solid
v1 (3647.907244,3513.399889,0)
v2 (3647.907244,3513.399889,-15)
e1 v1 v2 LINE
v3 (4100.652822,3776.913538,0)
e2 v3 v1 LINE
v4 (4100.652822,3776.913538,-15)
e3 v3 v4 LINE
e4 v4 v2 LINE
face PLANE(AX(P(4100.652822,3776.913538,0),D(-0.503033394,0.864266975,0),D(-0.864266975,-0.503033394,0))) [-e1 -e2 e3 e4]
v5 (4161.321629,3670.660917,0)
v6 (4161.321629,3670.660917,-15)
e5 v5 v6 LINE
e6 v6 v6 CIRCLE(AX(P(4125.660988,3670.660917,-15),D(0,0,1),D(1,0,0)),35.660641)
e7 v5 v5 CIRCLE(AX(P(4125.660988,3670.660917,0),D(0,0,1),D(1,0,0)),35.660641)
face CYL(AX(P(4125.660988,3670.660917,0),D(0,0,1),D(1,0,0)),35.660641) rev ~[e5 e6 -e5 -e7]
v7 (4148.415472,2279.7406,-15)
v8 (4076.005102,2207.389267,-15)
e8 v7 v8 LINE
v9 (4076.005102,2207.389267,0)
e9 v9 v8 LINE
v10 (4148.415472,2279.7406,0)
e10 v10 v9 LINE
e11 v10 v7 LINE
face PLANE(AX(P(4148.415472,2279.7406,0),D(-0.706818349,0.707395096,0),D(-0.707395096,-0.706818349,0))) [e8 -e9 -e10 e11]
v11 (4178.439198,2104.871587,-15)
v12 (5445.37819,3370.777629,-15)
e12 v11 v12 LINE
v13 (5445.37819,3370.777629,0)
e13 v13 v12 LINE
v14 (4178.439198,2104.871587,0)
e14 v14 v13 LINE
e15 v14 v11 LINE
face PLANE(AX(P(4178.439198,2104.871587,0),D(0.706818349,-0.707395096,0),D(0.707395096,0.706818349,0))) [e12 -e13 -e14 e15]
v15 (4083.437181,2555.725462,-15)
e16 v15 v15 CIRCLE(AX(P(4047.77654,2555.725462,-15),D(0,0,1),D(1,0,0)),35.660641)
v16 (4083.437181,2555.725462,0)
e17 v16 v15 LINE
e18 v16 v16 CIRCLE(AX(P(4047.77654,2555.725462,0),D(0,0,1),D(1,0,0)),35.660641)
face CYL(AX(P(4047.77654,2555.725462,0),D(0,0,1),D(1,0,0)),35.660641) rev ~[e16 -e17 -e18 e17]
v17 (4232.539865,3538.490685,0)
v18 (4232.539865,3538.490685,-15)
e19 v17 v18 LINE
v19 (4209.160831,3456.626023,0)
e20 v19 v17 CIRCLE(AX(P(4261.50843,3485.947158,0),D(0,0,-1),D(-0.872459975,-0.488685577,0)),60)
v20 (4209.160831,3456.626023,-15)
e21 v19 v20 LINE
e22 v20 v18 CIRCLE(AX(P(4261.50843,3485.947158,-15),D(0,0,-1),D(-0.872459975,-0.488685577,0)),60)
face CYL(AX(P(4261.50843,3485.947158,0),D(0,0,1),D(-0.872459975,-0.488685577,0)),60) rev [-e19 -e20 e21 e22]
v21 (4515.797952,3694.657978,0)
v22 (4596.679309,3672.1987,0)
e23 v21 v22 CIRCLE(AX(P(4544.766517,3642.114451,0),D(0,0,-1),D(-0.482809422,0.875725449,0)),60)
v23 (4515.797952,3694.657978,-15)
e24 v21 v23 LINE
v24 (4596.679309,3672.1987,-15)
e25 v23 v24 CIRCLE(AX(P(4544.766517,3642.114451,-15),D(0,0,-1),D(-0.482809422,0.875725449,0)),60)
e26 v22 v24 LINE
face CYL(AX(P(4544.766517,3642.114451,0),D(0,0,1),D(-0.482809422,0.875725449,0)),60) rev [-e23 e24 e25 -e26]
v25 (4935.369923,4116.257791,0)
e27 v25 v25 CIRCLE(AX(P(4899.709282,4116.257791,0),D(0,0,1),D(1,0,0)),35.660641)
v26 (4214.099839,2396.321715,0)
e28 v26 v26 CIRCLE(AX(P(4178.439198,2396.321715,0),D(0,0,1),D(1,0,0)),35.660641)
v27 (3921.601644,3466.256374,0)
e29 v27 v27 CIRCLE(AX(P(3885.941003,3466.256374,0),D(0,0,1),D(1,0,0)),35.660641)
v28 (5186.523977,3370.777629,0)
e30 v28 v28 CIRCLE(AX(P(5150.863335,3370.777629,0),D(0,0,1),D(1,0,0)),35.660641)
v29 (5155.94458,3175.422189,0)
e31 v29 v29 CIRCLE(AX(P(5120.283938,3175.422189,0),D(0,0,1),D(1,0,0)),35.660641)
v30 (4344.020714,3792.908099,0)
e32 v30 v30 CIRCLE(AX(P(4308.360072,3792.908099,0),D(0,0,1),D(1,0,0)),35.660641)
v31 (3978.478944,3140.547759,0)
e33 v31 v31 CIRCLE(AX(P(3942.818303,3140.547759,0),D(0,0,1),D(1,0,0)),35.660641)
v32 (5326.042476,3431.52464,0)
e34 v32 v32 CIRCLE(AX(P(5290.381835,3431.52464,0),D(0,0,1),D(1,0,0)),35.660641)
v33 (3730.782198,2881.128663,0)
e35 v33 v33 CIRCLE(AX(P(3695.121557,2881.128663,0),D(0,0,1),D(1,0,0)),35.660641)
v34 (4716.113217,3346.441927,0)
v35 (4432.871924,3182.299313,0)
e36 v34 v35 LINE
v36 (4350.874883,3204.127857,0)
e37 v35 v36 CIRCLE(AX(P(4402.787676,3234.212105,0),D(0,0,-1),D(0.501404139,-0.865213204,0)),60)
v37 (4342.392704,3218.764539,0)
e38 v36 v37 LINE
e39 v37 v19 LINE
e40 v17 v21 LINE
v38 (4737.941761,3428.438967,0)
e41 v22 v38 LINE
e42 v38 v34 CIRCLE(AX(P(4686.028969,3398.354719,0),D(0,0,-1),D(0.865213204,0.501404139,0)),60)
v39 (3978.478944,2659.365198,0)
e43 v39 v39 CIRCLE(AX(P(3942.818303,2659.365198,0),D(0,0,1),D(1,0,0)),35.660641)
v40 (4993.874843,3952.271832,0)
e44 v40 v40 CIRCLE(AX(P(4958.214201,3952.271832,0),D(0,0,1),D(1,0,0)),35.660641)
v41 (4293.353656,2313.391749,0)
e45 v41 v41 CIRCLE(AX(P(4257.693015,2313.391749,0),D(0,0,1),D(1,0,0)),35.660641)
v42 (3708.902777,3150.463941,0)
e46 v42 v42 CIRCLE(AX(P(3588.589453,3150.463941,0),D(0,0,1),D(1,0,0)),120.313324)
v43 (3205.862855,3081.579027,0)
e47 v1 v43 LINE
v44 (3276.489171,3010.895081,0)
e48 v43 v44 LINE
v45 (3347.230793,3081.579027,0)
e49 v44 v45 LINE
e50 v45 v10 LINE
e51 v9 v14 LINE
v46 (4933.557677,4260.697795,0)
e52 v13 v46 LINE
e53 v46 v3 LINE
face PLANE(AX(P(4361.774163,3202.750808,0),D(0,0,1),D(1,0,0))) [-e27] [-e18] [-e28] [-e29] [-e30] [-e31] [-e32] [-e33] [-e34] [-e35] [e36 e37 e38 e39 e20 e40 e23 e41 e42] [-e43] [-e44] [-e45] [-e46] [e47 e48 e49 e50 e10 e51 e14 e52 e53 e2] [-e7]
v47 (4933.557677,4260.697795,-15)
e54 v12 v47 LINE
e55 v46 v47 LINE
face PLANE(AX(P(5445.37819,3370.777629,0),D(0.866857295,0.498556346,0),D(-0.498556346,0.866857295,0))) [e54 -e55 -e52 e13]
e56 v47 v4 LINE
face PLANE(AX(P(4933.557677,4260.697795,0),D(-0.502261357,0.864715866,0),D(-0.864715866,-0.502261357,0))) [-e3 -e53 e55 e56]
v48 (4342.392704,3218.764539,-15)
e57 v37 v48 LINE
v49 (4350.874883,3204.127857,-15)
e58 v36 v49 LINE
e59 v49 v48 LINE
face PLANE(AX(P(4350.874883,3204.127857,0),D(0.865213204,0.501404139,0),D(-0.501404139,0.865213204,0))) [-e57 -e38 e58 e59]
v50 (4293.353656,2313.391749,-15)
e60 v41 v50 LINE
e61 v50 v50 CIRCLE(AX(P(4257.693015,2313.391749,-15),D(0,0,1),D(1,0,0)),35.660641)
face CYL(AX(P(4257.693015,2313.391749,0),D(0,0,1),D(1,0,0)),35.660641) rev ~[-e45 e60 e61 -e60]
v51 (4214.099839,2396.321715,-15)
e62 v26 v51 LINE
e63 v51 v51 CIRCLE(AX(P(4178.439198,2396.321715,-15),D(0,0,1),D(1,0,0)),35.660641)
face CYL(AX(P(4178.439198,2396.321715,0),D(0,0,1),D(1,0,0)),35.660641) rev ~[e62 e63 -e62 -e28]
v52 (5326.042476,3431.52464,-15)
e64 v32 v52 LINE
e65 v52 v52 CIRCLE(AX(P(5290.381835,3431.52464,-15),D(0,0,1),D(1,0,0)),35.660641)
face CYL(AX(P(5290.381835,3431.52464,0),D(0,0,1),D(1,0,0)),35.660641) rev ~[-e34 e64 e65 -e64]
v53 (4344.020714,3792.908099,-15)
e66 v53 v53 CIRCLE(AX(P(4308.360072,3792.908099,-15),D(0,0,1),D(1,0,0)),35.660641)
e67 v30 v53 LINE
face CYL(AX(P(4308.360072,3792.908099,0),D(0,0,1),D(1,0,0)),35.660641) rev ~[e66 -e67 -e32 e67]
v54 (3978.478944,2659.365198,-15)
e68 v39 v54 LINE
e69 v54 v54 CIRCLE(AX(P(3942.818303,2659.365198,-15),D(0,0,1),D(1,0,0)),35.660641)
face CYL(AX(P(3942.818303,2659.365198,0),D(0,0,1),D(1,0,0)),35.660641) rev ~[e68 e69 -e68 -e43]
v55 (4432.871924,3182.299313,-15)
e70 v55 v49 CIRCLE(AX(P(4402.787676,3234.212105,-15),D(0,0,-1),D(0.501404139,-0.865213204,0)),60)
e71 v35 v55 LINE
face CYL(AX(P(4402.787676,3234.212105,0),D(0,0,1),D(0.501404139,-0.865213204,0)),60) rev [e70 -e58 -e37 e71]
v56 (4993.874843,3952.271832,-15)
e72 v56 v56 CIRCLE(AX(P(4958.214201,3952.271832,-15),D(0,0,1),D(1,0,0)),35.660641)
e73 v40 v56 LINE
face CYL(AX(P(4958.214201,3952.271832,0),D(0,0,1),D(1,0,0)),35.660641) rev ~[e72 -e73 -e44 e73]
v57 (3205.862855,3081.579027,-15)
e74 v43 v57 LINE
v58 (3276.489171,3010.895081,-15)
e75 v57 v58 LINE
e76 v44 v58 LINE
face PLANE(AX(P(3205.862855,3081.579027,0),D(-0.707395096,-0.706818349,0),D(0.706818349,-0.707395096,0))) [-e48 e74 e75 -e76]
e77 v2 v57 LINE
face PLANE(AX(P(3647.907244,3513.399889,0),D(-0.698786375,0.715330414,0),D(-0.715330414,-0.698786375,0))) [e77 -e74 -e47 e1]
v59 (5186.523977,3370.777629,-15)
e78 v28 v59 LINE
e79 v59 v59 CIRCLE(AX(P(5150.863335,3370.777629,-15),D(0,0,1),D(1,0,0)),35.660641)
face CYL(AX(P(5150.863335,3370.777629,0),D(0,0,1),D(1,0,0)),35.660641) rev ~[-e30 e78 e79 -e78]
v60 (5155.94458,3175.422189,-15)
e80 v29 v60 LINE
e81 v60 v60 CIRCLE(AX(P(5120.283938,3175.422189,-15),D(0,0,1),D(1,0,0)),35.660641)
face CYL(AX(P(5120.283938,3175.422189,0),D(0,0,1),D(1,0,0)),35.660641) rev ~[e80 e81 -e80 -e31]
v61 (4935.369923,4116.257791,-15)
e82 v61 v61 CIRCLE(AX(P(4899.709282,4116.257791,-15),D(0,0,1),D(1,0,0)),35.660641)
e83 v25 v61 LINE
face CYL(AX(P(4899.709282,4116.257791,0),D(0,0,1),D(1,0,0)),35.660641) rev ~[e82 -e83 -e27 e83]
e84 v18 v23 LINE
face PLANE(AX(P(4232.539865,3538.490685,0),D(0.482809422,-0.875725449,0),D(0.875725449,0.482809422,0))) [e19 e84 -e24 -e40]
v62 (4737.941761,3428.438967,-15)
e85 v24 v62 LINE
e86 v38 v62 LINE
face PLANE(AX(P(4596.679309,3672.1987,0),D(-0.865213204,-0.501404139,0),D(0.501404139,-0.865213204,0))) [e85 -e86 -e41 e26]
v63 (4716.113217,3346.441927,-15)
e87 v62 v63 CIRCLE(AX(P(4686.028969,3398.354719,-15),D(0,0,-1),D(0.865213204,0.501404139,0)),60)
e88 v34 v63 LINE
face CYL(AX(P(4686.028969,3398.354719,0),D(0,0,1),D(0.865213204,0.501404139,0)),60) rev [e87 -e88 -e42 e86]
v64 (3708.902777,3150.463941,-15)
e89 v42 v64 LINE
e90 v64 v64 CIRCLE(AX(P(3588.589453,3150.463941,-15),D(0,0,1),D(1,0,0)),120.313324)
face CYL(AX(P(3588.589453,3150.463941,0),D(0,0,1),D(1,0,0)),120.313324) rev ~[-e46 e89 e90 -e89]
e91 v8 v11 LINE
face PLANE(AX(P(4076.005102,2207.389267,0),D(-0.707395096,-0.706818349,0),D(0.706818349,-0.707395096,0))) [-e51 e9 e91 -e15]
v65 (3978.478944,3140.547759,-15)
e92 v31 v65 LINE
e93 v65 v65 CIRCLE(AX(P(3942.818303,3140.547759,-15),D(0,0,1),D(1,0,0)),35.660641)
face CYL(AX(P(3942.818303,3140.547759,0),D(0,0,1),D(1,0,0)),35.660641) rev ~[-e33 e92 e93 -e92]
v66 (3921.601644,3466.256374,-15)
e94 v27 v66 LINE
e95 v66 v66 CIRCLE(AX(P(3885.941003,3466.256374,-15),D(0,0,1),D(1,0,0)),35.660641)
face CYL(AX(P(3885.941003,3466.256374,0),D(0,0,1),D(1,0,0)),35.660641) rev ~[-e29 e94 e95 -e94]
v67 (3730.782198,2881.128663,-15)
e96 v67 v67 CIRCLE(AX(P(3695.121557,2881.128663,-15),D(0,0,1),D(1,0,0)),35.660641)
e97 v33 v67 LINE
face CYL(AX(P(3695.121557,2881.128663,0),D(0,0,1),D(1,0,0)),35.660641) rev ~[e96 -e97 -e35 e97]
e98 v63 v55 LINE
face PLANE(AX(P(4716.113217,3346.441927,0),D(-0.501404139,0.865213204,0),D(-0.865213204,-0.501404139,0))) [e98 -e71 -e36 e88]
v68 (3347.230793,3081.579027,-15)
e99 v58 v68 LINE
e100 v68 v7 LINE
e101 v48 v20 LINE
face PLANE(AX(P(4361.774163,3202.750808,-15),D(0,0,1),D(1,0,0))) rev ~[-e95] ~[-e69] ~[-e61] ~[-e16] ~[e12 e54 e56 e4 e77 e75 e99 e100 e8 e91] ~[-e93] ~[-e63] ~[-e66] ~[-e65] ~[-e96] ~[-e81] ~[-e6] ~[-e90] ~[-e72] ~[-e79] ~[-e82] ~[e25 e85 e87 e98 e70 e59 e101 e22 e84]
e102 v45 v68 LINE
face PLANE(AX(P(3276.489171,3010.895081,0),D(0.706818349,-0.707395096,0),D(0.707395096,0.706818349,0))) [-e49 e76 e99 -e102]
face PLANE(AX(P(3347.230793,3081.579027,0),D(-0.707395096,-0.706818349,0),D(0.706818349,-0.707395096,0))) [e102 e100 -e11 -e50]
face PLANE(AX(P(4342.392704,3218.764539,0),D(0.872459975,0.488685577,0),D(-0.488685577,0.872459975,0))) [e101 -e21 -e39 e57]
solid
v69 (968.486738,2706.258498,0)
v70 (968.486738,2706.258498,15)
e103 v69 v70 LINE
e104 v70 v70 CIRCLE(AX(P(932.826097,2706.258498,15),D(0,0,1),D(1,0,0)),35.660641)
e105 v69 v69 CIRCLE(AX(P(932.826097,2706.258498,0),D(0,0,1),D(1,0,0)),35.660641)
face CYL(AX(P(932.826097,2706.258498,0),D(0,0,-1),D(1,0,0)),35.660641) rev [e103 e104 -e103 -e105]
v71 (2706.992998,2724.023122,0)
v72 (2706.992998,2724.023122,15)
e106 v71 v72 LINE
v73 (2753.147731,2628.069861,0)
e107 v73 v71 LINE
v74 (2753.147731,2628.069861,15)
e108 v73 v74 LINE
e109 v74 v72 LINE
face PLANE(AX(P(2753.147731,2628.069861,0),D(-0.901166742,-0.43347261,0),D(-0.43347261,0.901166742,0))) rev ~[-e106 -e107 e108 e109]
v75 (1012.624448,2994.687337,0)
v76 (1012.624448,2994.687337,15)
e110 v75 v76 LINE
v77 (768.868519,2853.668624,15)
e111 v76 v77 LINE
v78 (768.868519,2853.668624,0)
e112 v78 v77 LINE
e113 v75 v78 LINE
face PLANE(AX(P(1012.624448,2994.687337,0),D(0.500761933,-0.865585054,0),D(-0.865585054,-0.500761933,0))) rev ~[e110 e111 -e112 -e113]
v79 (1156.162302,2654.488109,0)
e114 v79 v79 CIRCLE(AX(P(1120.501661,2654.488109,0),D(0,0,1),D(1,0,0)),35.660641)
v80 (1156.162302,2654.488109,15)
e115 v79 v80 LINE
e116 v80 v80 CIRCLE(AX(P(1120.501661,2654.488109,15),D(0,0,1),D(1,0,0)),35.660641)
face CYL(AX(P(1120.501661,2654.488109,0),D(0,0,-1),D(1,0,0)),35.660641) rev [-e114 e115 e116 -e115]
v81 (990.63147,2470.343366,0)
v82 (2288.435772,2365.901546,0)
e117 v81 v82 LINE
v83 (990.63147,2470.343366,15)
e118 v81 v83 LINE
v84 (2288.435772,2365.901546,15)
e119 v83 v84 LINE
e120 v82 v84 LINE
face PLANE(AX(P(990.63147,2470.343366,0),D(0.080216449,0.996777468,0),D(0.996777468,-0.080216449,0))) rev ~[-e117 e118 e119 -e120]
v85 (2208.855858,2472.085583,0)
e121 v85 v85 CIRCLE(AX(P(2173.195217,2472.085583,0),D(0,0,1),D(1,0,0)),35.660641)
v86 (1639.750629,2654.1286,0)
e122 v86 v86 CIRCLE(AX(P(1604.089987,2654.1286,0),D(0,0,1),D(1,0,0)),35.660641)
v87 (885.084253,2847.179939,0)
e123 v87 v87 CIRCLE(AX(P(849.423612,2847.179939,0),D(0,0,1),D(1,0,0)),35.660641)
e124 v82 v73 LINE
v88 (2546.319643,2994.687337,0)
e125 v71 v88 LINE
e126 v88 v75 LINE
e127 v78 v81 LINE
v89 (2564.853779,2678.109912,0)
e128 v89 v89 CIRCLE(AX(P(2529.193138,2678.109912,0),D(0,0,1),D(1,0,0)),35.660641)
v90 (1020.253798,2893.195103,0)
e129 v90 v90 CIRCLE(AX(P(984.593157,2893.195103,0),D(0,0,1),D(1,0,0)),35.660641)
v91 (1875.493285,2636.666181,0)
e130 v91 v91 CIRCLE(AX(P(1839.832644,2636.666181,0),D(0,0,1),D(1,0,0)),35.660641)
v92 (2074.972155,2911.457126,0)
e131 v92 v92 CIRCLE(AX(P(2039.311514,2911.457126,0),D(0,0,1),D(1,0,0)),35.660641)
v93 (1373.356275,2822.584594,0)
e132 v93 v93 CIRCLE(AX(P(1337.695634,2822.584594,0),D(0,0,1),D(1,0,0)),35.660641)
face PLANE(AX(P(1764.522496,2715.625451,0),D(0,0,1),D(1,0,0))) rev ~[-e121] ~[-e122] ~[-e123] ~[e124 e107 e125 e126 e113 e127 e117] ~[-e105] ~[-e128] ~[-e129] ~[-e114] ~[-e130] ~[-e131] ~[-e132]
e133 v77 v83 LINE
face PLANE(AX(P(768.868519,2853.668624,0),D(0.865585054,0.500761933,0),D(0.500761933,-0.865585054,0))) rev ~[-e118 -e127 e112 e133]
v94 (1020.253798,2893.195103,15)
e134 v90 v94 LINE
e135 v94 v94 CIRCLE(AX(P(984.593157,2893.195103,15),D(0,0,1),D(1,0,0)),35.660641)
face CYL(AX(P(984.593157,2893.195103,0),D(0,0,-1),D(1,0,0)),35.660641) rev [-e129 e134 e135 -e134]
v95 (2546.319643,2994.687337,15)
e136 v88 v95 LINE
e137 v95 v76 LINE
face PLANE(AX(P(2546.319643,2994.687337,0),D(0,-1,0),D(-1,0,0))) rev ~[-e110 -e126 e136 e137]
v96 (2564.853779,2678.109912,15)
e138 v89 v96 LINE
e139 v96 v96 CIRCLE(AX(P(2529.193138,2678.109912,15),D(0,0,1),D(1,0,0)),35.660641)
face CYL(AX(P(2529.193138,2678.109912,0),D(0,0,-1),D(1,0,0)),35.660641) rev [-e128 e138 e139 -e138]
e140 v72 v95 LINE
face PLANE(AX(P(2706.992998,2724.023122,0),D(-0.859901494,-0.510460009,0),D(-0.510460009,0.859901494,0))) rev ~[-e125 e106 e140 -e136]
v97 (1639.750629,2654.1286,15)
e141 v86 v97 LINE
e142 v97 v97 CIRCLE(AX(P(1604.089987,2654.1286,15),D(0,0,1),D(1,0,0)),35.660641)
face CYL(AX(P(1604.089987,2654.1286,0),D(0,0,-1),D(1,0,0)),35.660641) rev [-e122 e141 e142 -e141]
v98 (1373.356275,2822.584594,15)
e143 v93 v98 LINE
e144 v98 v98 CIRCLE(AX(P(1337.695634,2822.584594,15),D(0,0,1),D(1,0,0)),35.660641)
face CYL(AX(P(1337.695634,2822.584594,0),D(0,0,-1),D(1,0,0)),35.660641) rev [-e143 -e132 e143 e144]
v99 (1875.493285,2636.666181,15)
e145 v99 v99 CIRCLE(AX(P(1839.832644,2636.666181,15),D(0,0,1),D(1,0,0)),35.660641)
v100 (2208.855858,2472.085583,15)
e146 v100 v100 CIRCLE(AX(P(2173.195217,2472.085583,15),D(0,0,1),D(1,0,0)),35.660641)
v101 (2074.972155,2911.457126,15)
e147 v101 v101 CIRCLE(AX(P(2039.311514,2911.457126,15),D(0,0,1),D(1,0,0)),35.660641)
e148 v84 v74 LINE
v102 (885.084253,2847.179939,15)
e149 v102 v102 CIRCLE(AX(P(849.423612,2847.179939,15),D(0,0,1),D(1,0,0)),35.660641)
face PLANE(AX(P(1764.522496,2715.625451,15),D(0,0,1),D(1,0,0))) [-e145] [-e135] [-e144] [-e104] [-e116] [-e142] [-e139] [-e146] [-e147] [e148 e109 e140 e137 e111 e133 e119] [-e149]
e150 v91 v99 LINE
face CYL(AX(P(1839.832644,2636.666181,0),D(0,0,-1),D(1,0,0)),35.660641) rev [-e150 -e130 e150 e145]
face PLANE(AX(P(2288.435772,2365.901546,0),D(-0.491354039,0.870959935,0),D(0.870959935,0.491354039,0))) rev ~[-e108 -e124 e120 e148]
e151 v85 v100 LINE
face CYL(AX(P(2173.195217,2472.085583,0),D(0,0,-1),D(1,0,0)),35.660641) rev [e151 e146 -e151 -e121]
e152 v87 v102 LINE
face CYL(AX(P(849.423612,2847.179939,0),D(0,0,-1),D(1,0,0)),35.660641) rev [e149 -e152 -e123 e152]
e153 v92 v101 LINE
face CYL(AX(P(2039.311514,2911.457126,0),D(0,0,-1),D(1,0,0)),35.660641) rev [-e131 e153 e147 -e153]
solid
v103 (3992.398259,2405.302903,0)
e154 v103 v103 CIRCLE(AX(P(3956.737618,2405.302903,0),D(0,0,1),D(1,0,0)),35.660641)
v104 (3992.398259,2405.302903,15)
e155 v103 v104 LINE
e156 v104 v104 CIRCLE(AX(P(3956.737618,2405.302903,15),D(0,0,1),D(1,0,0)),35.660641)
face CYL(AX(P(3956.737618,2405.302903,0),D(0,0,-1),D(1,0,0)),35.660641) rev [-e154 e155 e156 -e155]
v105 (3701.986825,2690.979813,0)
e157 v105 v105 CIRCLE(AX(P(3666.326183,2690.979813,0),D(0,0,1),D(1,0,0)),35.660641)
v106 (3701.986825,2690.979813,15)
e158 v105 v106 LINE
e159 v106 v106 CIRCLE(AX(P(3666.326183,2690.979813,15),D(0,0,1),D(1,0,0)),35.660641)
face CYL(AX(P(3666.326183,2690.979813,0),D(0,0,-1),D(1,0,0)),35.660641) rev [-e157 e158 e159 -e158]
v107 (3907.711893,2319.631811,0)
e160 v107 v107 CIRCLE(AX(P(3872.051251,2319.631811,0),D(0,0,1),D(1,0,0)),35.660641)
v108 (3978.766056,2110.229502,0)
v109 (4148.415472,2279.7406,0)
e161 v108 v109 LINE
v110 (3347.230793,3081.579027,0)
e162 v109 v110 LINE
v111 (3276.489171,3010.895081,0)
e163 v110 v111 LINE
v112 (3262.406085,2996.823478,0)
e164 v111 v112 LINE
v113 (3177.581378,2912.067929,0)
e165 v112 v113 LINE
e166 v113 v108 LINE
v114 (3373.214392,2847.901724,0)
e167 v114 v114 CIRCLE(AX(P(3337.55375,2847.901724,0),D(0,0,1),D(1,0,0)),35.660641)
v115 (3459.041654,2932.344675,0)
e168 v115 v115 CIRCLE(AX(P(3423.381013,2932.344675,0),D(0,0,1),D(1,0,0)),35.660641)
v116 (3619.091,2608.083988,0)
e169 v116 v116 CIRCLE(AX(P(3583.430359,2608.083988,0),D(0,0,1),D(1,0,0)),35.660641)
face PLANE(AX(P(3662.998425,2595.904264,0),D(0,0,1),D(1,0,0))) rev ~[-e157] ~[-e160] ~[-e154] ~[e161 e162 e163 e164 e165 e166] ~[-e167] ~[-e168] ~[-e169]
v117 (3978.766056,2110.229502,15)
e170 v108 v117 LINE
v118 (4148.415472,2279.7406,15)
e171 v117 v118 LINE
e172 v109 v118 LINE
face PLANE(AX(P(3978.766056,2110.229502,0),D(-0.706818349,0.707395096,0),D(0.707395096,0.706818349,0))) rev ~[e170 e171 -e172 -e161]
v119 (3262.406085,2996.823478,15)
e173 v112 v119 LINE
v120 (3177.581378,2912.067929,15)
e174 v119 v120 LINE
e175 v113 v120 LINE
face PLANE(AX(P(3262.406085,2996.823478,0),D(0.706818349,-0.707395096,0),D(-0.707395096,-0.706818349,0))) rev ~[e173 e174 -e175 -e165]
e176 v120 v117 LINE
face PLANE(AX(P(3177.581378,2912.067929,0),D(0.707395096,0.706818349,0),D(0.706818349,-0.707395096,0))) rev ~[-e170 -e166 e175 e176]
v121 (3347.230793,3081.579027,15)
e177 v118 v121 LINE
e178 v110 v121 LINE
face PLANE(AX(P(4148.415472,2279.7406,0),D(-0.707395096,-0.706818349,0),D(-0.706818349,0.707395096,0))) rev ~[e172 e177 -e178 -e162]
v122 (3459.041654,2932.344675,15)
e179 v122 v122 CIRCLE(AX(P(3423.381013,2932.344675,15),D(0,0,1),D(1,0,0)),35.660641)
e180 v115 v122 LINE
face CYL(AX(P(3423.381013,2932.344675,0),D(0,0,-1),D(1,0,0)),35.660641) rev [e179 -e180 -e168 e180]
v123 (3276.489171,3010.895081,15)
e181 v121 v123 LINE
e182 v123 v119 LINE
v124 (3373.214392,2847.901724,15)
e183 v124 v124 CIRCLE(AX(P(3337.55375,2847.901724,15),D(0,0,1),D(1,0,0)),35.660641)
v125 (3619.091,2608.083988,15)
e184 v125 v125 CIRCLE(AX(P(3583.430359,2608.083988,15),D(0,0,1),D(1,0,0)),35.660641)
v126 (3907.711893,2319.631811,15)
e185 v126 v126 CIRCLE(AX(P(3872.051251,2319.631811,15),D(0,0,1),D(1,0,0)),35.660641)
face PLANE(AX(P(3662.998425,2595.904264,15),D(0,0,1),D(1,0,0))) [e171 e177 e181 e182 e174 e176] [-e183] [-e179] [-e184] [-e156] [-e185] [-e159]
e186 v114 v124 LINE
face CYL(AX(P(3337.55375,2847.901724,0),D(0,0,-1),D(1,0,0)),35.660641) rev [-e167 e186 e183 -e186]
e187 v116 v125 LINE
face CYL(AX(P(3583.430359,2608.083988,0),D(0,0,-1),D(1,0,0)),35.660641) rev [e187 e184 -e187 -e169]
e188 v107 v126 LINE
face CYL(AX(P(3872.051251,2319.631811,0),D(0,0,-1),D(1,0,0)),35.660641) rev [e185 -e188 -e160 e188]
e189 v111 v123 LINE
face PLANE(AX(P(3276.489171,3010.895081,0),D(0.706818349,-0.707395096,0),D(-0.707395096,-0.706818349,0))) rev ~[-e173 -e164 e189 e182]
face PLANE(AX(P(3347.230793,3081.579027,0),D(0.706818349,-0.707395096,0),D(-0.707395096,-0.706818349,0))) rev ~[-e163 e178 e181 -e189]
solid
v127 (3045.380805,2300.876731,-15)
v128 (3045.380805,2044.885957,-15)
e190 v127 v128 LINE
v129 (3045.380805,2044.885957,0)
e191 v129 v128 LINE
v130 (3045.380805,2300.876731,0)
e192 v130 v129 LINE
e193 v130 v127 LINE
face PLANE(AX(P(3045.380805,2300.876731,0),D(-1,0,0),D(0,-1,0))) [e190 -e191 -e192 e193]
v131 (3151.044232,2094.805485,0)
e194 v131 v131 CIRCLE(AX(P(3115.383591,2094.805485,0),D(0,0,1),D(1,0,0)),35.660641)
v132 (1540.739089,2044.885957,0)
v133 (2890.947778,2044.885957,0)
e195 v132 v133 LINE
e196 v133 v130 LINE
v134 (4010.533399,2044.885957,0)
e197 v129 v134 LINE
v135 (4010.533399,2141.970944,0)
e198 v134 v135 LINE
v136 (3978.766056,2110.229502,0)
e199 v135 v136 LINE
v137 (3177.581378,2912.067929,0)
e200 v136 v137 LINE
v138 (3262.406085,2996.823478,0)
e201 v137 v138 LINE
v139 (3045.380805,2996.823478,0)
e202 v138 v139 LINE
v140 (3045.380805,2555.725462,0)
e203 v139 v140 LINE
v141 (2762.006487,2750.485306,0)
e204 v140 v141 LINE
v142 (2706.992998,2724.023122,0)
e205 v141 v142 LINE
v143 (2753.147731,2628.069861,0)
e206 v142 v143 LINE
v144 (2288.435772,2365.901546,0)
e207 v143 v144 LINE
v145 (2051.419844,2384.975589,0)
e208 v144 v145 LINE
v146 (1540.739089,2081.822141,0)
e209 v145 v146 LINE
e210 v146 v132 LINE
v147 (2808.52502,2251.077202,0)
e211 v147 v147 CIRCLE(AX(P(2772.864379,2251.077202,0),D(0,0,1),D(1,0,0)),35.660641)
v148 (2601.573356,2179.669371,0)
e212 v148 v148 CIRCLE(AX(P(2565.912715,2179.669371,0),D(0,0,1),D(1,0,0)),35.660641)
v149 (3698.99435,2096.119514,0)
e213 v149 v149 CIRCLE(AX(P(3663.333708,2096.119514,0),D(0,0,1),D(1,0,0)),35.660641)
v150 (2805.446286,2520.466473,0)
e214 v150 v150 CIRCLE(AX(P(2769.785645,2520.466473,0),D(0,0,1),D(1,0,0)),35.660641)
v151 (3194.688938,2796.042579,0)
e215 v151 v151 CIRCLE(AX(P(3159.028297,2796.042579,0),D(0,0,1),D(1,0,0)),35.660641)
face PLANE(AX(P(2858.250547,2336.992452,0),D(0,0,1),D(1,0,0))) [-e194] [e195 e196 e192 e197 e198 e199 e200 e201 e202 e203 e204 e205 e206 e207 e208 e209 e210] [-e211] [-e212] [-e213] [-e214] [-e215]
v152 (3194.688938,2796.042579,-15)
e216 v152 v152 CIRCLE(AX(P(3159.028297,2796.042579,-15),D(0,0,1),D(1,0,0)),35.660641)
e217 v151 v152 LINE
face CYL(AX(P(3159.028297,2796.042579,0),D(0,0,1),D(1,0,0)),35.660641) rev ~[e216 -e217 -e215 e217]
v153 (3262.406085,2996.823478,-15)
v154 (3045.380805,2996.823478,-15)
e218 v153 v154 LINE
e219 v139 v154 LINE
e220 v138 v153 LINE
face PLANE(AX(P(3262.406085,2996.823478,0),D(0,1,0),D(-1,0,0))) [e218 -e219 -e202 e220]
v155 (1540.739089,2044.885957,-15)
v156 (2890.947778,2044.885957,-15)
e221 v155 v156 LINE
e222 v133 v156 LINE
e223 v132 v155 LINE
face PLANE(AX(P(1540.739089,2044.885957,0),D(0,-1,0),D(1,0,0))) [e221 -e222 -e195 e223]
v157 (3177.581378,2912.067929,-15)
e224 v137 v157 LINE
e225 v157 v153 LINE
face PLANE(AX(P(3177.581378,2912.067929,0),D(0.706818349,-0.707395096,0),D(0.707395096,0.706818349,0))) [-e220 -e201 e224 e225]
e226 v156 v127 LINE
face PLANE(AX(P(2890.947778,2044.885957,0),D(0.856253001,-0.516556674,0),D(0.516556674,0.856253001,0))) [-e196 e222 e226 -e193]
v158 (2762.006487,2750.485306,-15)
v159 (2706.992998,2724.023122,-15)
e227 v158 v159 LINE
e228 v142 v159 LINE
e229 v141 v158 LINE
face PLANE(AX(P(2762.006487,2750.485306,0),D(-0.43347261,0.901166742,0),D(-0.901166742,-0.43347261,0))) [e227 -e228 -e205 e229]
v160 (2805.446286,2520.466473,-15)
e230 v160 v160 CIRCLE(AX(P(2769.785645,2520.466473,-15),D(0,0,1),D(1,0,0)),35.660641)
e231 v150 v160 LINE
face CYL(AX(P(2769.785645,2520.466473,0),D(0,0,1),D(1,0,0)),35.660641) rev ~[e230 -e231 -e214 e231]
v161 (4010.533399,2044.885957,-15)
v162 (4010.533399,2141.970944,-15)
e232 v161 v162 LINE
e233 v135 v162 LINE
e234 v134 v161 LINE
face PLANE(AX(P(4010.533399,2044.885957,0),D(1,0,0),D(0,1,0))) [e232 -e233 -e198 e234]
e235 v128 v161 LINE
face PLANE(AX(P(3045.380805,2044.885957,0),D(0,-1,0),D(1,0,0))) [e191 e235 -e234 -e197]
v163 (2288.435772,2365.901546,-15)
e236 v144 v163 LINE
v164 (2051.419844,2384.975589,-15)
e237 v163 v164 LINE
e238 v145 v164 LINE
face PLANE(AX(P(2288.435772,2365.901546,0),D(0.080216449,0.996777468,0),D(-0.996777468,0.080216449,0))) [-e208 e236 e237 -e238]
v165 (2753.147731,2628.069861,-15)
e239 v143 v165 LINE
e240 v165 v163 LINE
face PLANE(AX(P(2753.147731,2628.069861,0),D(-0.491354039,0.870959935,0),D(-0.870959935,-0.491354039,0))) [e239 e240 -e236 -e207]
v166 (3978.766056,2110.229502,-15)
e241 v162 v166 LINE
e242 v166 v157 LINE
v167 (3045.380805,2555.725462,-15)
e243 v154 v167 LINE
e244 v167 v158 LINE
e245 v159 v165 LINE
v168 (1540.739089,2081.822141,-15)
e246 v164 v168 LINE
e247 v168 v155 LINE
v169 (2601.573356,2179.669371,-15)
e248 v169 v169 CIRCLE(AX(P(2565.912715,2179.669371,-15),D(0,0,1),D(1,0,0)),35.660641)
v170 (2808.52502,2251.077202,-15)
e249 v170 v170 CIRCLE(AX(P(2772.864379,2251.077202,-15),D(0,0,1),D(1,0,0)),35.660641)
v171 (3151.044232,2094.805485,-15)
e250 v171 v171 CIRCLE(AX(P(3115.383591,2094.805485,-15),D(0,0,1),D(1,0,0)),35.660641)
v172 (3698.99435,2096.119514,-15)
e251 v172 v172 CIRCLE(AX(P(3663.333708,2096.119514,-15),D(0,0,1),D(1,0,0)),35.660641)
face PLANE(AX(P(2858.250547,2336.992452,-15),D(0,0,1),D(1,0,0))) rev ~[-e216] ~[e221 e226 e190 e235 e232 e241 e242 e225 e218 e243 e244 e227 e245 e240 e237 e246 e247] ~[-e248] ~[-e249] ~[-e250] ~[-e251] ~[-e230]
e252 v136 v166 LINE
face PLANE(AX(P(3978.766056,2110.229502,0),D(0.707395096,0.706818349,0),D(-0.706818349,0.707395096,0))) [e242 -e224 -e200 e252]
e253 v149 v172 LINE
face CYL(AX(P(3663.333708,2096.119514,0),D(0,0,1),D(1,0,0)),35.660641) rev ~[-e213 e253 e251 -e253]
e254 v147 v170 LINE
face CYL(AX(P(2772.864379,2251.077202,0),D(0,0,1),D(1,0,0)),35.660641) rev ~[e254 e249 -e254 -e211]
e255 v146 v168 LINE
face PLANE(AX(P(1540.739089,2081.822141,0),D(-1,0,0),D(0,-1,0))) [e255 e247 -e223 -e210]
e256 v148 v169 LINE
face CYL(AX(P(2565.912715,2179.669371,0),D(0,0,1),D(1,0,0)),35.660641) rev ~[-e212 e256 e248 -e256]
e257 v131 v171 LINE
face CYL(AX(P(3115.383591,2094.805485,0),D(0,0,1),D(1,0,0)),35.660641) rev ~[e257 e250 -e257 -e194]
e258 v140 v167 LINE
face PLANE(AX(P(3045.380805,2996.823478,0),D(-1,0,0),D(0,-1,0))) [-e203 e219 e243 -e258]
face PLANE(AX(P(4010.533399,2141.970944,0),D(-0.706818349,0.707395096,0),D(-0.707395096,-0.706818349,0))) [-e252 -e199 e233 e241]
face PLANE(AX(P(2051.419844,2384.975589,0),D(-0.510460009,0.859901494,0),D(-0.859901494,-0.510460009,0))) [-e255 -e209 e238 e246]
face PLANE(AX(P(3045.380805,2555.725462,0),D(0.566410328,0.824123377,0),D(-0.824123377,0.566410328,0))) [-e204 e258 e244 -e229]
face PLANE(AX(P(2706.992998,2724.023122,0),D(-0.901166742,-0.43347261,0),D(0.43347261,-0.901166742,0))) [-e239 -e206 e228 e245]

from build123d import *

# Parameters (mm, degrees)
ESBO_O1_R                  = 35.660641255
RESSALTO_EXTRUS_O1_DEPTH   = 15
ESBO_O1_3_R                = 35.660641255
ESBO_O1_3_R_2              = 120.313324473
RESSALTO_EXTRUS_O2_DEPTH   = 15
RESSALTO_EXTRUS_O2_2_DEPTH = 15
ESBO_O1_4_R                = 35.660641255
RESSALTO_EXTRUS_O3_DEPTH   = 15


with BuildPart() as part:
    # Esboço1 → Ressalto-extrusão1 (new body)
    with BuildSketch(Plane.XY):
        Polygon((4010.533399434, 2141.970944362), (4076.005101711, 2207.389266793), (4148.415471659, 2279.740599718), (3347.230793054, 3081.579026588), (3276.489171057, 3010.895081065), (3262.406085437, 2996.823477549), (3177.58137782, 2912.06792851), (3978.766056424, 2110.229501639), align=None)
        with Locations((3872.05125134, 2319.631811185)):
            Circle(ESBO_O1_R, mode=Mode.SUBTRACT)
        with Locations((3956.737617623, 2405.302902657)):
            Circle(ESBO_O1_R, mode=Mode.SUBTRACT)
        with Locations((3583.4303586, 2608.08398836)):
            Circle(ESBO_O1_R, mode=Mode.SUBTRACT)
        with Locations((3666.326183461, 2690.979813221)):
            Circle(ESBO_O1_R, mode=Mode.SUBTRACT)
        with Locations((3337.553750411, 2847.901723534)):
            Circle(ESBO_O1_R, mode=Mode.SUBTRACT)
        with Locations((3423.381012666, 2932.344675107)):
            Circle(ESBO_O1_R, mode=Mode.SUBTRACT)
    extrude(amount=RESSALTO_EXTRUS_O1_DEPTH)


with BuildPart() as body_2:
    # Esboço1<3> → Ressalto-extrusão2 (new body)
    with BuildSketch(Plane.XY):
        Polygon((5445.378190358, 3370.777629317), (4933.557676562, 4260.697795468), (4100.652822159, 3776.913538426), (3647.907243987, 3513.399888987), (3205.862854983, 3081.579026588), (3276.489171057, 3010.895081065), (3347.230793054, 3081.579026588), (4148.415471659, 2279.740599718), (4076.005101711, 2207.389266793), (4178.439197736, 2104.871586902), align=None)
        with Locations((4257.693014885, 2313.391749387)):
            Circle(ESBO_O1_3_R, mode=Mode.SUBTRACT)
        with Locations((4178.439197736, 2396.321714682)):
            Circle(ESBO_O1_3_R, mode=Mode.SUBTRACT)
        with Locations((4047.776540234, 2555.725462247)):
            Circle(ESBO_O1_3_R, mode=Mode.SUBTRACT)
        with Locations((3942.818302909, 2659.365198349)):
            Circle(ESBO_O1_3_R, mode=Mode.SUBTRACT)
        with Locations((3588.589452804, 3150.463941493)):
            Circle(ESBO_O1_3_R_2, mode=Mode.SUBTRACT)
        with Locations((3695.121557179, 2881.128662976)):
            Circle(ESBO_O1_3_R, mode=Mode.SUBTRACT)
        with Locations((3942.818302909, 3140.547759012)):
            Circle(ESBO_O1_3_R, mode=Mode.SUBTRACT)
        with Locations((3885.941003035, 3466.256374016)):
            Circle(ESBO_O1_3_R, mode=Mode.SUBTRACT)
        with Locations((4125.66098751, 3670.660916932)):
            Circle(ESBO_O1_3_R, mode=Mode.SUBTRACT)
        with Locations((5120.28393828, 3175.422188879)):
            Circle(ESBO_O1_3_R, mode=Mode.SUBTRACT)
        with Locations((5150.86333544, 3370.777629317)):
            Circle(ESBO_O1_3_R, mode=Mode.SUBTRACT)
        with BuildLine():
            Line((4350.874883247, 3204.127856726), (4342.39270444, 3218.764539058))
            Line((4342.39270444, 3218.764539058), (4209.160831455, 3456.626023185))
            ThreePointArc((4209.160831455, 3456.626023185), (4203.814969943, 3502.423342858), (4232.53986463, 3538.490684731))
            Line((4232.53986463, 3538.490684731), (4515.797951568, 3694.657978107))
            ThreePointArc((4515.797951568, 3694.657978107), (4560.819995822, 3699.92695684), (4596.679309134, 3672.198699512))
            Line((4596.679309134, 3672.198699512), (4737.941761109, 3428.438967258))
            ThreePointArc((4737.941761109, 3428.438967258), (4744.009632304, 3382.919607479), (4716.113217198, 3346.441926636))
            Line((4716.113217198, 3346.441926636), (4432.871923869, 3182.299312816))
            ThreePointArc((4432.871923869, 3182.299312816), (4387.352564091, 3176.231441621), (4350.874883247, 3204.127856726))
        make_face(mode=Mode.SUBTRACT)
        with Locations((5290.381834985, 3431.524640098)):
            Circle(ESBO_O1_3_R, mode=Mode.SUBTRACT)
        with Locations((4308.360072466, 3792.908098778)):
            Circle(ESBO_O1_3_R, mode=Mode.SUBTRACT)
        with Locations((4958.214201268, 3952.271832111)):
            Circle(ESBO_O1_3_R, mode=Mode.SUBTRACT)
        with Locations((4899.709282236, 4116.257791073)):
            Circle(ESBO_O1_3_R, mode=Mode.SUBTRACT)
    extrude(amount=-RESSALTO_EXTRUS_O2_DEPTH)


with BuildPart() as body_3:
    # Esboço1<3> → Ressalto-extrus_o2 2 (new body)
    with BuildSketch(Plane.XY):
        Polygon((4010.533399434, 2044.885956924), (4010.533399434, 2141.970944362), (3978.766056424, 2110.229501639), (3177.58137782, 2912.06792851), (3262.406085437, 2996.823477549), (3045.380804816, 2996.823477549), (3045.380804816, 2555.725462247), (2762.006486844, 2750.485306177), (2706.99299765, 2724.023121502), (2753.147730687, 2628.069860715), (2288.435772291, 2365.901546372), (2051.419844025, 2384.975589262), (1540.739088594, 2081.822141068), (1540.739088594, 2044.885956924), (2890.947777637, 2044.885956924), (3045.380804816, 2300.876731177), (3045.380804816, 2044.885956924), align=None)
        with Locations((3115.383590791, 2094.805485083)):
            Circle(ESBO_O1_3_R, mode=Mode.SUBTRACT)
        with Locations((3663.333708377, 2096.119514142)):
            Circle(ESBO_O1_3_R, mode=Mode.SUBTRACT)
        with Locations((3159.028297206, 2796.042579258)):
            Circle(ESBO_O1_3_R, mode=Mode.SUBTRACT)
        with Locations((2769.785644521, 2520.466473261)):
            Circle(ESBO_O1_3_R, mode=Mode.SUBTRACT)
        with Locations((2565.912714786, 2179.669370711)):
            Circle(ESBO_O1_3_R, mode=Mode.SUBTRACT)
        with Locations((2772.864379045, 2251.077202425)):
            Circle(ESBO_O1_3_R, mode=Mode.SUBTRACT)
    extrude(amount=-RESSALTO_EXTRUS_O2_2_DEPTH)


with BuildPart() as body_4:
    # Esboço1<4> → Ressalto-extrusão3 (new body)
    with BuildSketch(Plane.XY):
        Polygon((2753.147730687, 2628.069860715), (2706.99299765, 2724.023121502), (2546.319643023, 2994.687336631), (1012.624447891, 2994.687336631), (768.868518508, 2853.668623582), (990.631470443, 2470.343366368), (2051.419844025, 2384.975589262), (2288.435772291, 2365.901546372), align=None)
        with Locations((2173.19521695, 2472.085582863)):
            Circle(ESBO_O1_4_R, mode=Mode.SUBTRACT)
        with Locations((932.82609723, 2706.258497692)):
            Circle(ESBO_O1_4_R, mode=Mode.SUBTRACT)
        with Locations((1120.501661243, 2654.488109144)):
            Circle(ESBO_O1_4_R, mode=Mode.SUBTRACT)
        with Locations((849.423611828, 2847.179938543)):
            Circle(ESBO_O1_4_R, mode=Mode.SUBTRACT)
        with Locations((1337.695633644, 2822.584593531)):
            Circle(ESBO_O1_4_R, mode=Mode.SUBTRACT)
        with Locations((1604.089987399, 2654.1285998)):
            Circle(ESBO_O1_4_R, mode=Mode.SUBTRACT)
        with Locations((1839.832643921, 2636.666180798)):
            Circle(ESBO_O1_4_R, mode=Mode.SUBTRACT)
        with Locations((984.593157134, 2893.195102903)):
            Circle(ESBO_O1_4_R, mode=Mode.SUBTRACT)
        with Locations((2529.193138206, 2678.10991176)):
            Circle(ESBO_O1_4_R, mode=Mode.SUBTRACT)
        with Locations((2039.311514189, 2911.457125631)):
            Circle(ESBO_O1_4_R, mode=Mode.SUBTRACT)
    extrude(amount=RESSALTO_EXTRUS_O3_DEPTH)


solid = Compound([part.part, body_2.part, body_3.part, body_4.part])
